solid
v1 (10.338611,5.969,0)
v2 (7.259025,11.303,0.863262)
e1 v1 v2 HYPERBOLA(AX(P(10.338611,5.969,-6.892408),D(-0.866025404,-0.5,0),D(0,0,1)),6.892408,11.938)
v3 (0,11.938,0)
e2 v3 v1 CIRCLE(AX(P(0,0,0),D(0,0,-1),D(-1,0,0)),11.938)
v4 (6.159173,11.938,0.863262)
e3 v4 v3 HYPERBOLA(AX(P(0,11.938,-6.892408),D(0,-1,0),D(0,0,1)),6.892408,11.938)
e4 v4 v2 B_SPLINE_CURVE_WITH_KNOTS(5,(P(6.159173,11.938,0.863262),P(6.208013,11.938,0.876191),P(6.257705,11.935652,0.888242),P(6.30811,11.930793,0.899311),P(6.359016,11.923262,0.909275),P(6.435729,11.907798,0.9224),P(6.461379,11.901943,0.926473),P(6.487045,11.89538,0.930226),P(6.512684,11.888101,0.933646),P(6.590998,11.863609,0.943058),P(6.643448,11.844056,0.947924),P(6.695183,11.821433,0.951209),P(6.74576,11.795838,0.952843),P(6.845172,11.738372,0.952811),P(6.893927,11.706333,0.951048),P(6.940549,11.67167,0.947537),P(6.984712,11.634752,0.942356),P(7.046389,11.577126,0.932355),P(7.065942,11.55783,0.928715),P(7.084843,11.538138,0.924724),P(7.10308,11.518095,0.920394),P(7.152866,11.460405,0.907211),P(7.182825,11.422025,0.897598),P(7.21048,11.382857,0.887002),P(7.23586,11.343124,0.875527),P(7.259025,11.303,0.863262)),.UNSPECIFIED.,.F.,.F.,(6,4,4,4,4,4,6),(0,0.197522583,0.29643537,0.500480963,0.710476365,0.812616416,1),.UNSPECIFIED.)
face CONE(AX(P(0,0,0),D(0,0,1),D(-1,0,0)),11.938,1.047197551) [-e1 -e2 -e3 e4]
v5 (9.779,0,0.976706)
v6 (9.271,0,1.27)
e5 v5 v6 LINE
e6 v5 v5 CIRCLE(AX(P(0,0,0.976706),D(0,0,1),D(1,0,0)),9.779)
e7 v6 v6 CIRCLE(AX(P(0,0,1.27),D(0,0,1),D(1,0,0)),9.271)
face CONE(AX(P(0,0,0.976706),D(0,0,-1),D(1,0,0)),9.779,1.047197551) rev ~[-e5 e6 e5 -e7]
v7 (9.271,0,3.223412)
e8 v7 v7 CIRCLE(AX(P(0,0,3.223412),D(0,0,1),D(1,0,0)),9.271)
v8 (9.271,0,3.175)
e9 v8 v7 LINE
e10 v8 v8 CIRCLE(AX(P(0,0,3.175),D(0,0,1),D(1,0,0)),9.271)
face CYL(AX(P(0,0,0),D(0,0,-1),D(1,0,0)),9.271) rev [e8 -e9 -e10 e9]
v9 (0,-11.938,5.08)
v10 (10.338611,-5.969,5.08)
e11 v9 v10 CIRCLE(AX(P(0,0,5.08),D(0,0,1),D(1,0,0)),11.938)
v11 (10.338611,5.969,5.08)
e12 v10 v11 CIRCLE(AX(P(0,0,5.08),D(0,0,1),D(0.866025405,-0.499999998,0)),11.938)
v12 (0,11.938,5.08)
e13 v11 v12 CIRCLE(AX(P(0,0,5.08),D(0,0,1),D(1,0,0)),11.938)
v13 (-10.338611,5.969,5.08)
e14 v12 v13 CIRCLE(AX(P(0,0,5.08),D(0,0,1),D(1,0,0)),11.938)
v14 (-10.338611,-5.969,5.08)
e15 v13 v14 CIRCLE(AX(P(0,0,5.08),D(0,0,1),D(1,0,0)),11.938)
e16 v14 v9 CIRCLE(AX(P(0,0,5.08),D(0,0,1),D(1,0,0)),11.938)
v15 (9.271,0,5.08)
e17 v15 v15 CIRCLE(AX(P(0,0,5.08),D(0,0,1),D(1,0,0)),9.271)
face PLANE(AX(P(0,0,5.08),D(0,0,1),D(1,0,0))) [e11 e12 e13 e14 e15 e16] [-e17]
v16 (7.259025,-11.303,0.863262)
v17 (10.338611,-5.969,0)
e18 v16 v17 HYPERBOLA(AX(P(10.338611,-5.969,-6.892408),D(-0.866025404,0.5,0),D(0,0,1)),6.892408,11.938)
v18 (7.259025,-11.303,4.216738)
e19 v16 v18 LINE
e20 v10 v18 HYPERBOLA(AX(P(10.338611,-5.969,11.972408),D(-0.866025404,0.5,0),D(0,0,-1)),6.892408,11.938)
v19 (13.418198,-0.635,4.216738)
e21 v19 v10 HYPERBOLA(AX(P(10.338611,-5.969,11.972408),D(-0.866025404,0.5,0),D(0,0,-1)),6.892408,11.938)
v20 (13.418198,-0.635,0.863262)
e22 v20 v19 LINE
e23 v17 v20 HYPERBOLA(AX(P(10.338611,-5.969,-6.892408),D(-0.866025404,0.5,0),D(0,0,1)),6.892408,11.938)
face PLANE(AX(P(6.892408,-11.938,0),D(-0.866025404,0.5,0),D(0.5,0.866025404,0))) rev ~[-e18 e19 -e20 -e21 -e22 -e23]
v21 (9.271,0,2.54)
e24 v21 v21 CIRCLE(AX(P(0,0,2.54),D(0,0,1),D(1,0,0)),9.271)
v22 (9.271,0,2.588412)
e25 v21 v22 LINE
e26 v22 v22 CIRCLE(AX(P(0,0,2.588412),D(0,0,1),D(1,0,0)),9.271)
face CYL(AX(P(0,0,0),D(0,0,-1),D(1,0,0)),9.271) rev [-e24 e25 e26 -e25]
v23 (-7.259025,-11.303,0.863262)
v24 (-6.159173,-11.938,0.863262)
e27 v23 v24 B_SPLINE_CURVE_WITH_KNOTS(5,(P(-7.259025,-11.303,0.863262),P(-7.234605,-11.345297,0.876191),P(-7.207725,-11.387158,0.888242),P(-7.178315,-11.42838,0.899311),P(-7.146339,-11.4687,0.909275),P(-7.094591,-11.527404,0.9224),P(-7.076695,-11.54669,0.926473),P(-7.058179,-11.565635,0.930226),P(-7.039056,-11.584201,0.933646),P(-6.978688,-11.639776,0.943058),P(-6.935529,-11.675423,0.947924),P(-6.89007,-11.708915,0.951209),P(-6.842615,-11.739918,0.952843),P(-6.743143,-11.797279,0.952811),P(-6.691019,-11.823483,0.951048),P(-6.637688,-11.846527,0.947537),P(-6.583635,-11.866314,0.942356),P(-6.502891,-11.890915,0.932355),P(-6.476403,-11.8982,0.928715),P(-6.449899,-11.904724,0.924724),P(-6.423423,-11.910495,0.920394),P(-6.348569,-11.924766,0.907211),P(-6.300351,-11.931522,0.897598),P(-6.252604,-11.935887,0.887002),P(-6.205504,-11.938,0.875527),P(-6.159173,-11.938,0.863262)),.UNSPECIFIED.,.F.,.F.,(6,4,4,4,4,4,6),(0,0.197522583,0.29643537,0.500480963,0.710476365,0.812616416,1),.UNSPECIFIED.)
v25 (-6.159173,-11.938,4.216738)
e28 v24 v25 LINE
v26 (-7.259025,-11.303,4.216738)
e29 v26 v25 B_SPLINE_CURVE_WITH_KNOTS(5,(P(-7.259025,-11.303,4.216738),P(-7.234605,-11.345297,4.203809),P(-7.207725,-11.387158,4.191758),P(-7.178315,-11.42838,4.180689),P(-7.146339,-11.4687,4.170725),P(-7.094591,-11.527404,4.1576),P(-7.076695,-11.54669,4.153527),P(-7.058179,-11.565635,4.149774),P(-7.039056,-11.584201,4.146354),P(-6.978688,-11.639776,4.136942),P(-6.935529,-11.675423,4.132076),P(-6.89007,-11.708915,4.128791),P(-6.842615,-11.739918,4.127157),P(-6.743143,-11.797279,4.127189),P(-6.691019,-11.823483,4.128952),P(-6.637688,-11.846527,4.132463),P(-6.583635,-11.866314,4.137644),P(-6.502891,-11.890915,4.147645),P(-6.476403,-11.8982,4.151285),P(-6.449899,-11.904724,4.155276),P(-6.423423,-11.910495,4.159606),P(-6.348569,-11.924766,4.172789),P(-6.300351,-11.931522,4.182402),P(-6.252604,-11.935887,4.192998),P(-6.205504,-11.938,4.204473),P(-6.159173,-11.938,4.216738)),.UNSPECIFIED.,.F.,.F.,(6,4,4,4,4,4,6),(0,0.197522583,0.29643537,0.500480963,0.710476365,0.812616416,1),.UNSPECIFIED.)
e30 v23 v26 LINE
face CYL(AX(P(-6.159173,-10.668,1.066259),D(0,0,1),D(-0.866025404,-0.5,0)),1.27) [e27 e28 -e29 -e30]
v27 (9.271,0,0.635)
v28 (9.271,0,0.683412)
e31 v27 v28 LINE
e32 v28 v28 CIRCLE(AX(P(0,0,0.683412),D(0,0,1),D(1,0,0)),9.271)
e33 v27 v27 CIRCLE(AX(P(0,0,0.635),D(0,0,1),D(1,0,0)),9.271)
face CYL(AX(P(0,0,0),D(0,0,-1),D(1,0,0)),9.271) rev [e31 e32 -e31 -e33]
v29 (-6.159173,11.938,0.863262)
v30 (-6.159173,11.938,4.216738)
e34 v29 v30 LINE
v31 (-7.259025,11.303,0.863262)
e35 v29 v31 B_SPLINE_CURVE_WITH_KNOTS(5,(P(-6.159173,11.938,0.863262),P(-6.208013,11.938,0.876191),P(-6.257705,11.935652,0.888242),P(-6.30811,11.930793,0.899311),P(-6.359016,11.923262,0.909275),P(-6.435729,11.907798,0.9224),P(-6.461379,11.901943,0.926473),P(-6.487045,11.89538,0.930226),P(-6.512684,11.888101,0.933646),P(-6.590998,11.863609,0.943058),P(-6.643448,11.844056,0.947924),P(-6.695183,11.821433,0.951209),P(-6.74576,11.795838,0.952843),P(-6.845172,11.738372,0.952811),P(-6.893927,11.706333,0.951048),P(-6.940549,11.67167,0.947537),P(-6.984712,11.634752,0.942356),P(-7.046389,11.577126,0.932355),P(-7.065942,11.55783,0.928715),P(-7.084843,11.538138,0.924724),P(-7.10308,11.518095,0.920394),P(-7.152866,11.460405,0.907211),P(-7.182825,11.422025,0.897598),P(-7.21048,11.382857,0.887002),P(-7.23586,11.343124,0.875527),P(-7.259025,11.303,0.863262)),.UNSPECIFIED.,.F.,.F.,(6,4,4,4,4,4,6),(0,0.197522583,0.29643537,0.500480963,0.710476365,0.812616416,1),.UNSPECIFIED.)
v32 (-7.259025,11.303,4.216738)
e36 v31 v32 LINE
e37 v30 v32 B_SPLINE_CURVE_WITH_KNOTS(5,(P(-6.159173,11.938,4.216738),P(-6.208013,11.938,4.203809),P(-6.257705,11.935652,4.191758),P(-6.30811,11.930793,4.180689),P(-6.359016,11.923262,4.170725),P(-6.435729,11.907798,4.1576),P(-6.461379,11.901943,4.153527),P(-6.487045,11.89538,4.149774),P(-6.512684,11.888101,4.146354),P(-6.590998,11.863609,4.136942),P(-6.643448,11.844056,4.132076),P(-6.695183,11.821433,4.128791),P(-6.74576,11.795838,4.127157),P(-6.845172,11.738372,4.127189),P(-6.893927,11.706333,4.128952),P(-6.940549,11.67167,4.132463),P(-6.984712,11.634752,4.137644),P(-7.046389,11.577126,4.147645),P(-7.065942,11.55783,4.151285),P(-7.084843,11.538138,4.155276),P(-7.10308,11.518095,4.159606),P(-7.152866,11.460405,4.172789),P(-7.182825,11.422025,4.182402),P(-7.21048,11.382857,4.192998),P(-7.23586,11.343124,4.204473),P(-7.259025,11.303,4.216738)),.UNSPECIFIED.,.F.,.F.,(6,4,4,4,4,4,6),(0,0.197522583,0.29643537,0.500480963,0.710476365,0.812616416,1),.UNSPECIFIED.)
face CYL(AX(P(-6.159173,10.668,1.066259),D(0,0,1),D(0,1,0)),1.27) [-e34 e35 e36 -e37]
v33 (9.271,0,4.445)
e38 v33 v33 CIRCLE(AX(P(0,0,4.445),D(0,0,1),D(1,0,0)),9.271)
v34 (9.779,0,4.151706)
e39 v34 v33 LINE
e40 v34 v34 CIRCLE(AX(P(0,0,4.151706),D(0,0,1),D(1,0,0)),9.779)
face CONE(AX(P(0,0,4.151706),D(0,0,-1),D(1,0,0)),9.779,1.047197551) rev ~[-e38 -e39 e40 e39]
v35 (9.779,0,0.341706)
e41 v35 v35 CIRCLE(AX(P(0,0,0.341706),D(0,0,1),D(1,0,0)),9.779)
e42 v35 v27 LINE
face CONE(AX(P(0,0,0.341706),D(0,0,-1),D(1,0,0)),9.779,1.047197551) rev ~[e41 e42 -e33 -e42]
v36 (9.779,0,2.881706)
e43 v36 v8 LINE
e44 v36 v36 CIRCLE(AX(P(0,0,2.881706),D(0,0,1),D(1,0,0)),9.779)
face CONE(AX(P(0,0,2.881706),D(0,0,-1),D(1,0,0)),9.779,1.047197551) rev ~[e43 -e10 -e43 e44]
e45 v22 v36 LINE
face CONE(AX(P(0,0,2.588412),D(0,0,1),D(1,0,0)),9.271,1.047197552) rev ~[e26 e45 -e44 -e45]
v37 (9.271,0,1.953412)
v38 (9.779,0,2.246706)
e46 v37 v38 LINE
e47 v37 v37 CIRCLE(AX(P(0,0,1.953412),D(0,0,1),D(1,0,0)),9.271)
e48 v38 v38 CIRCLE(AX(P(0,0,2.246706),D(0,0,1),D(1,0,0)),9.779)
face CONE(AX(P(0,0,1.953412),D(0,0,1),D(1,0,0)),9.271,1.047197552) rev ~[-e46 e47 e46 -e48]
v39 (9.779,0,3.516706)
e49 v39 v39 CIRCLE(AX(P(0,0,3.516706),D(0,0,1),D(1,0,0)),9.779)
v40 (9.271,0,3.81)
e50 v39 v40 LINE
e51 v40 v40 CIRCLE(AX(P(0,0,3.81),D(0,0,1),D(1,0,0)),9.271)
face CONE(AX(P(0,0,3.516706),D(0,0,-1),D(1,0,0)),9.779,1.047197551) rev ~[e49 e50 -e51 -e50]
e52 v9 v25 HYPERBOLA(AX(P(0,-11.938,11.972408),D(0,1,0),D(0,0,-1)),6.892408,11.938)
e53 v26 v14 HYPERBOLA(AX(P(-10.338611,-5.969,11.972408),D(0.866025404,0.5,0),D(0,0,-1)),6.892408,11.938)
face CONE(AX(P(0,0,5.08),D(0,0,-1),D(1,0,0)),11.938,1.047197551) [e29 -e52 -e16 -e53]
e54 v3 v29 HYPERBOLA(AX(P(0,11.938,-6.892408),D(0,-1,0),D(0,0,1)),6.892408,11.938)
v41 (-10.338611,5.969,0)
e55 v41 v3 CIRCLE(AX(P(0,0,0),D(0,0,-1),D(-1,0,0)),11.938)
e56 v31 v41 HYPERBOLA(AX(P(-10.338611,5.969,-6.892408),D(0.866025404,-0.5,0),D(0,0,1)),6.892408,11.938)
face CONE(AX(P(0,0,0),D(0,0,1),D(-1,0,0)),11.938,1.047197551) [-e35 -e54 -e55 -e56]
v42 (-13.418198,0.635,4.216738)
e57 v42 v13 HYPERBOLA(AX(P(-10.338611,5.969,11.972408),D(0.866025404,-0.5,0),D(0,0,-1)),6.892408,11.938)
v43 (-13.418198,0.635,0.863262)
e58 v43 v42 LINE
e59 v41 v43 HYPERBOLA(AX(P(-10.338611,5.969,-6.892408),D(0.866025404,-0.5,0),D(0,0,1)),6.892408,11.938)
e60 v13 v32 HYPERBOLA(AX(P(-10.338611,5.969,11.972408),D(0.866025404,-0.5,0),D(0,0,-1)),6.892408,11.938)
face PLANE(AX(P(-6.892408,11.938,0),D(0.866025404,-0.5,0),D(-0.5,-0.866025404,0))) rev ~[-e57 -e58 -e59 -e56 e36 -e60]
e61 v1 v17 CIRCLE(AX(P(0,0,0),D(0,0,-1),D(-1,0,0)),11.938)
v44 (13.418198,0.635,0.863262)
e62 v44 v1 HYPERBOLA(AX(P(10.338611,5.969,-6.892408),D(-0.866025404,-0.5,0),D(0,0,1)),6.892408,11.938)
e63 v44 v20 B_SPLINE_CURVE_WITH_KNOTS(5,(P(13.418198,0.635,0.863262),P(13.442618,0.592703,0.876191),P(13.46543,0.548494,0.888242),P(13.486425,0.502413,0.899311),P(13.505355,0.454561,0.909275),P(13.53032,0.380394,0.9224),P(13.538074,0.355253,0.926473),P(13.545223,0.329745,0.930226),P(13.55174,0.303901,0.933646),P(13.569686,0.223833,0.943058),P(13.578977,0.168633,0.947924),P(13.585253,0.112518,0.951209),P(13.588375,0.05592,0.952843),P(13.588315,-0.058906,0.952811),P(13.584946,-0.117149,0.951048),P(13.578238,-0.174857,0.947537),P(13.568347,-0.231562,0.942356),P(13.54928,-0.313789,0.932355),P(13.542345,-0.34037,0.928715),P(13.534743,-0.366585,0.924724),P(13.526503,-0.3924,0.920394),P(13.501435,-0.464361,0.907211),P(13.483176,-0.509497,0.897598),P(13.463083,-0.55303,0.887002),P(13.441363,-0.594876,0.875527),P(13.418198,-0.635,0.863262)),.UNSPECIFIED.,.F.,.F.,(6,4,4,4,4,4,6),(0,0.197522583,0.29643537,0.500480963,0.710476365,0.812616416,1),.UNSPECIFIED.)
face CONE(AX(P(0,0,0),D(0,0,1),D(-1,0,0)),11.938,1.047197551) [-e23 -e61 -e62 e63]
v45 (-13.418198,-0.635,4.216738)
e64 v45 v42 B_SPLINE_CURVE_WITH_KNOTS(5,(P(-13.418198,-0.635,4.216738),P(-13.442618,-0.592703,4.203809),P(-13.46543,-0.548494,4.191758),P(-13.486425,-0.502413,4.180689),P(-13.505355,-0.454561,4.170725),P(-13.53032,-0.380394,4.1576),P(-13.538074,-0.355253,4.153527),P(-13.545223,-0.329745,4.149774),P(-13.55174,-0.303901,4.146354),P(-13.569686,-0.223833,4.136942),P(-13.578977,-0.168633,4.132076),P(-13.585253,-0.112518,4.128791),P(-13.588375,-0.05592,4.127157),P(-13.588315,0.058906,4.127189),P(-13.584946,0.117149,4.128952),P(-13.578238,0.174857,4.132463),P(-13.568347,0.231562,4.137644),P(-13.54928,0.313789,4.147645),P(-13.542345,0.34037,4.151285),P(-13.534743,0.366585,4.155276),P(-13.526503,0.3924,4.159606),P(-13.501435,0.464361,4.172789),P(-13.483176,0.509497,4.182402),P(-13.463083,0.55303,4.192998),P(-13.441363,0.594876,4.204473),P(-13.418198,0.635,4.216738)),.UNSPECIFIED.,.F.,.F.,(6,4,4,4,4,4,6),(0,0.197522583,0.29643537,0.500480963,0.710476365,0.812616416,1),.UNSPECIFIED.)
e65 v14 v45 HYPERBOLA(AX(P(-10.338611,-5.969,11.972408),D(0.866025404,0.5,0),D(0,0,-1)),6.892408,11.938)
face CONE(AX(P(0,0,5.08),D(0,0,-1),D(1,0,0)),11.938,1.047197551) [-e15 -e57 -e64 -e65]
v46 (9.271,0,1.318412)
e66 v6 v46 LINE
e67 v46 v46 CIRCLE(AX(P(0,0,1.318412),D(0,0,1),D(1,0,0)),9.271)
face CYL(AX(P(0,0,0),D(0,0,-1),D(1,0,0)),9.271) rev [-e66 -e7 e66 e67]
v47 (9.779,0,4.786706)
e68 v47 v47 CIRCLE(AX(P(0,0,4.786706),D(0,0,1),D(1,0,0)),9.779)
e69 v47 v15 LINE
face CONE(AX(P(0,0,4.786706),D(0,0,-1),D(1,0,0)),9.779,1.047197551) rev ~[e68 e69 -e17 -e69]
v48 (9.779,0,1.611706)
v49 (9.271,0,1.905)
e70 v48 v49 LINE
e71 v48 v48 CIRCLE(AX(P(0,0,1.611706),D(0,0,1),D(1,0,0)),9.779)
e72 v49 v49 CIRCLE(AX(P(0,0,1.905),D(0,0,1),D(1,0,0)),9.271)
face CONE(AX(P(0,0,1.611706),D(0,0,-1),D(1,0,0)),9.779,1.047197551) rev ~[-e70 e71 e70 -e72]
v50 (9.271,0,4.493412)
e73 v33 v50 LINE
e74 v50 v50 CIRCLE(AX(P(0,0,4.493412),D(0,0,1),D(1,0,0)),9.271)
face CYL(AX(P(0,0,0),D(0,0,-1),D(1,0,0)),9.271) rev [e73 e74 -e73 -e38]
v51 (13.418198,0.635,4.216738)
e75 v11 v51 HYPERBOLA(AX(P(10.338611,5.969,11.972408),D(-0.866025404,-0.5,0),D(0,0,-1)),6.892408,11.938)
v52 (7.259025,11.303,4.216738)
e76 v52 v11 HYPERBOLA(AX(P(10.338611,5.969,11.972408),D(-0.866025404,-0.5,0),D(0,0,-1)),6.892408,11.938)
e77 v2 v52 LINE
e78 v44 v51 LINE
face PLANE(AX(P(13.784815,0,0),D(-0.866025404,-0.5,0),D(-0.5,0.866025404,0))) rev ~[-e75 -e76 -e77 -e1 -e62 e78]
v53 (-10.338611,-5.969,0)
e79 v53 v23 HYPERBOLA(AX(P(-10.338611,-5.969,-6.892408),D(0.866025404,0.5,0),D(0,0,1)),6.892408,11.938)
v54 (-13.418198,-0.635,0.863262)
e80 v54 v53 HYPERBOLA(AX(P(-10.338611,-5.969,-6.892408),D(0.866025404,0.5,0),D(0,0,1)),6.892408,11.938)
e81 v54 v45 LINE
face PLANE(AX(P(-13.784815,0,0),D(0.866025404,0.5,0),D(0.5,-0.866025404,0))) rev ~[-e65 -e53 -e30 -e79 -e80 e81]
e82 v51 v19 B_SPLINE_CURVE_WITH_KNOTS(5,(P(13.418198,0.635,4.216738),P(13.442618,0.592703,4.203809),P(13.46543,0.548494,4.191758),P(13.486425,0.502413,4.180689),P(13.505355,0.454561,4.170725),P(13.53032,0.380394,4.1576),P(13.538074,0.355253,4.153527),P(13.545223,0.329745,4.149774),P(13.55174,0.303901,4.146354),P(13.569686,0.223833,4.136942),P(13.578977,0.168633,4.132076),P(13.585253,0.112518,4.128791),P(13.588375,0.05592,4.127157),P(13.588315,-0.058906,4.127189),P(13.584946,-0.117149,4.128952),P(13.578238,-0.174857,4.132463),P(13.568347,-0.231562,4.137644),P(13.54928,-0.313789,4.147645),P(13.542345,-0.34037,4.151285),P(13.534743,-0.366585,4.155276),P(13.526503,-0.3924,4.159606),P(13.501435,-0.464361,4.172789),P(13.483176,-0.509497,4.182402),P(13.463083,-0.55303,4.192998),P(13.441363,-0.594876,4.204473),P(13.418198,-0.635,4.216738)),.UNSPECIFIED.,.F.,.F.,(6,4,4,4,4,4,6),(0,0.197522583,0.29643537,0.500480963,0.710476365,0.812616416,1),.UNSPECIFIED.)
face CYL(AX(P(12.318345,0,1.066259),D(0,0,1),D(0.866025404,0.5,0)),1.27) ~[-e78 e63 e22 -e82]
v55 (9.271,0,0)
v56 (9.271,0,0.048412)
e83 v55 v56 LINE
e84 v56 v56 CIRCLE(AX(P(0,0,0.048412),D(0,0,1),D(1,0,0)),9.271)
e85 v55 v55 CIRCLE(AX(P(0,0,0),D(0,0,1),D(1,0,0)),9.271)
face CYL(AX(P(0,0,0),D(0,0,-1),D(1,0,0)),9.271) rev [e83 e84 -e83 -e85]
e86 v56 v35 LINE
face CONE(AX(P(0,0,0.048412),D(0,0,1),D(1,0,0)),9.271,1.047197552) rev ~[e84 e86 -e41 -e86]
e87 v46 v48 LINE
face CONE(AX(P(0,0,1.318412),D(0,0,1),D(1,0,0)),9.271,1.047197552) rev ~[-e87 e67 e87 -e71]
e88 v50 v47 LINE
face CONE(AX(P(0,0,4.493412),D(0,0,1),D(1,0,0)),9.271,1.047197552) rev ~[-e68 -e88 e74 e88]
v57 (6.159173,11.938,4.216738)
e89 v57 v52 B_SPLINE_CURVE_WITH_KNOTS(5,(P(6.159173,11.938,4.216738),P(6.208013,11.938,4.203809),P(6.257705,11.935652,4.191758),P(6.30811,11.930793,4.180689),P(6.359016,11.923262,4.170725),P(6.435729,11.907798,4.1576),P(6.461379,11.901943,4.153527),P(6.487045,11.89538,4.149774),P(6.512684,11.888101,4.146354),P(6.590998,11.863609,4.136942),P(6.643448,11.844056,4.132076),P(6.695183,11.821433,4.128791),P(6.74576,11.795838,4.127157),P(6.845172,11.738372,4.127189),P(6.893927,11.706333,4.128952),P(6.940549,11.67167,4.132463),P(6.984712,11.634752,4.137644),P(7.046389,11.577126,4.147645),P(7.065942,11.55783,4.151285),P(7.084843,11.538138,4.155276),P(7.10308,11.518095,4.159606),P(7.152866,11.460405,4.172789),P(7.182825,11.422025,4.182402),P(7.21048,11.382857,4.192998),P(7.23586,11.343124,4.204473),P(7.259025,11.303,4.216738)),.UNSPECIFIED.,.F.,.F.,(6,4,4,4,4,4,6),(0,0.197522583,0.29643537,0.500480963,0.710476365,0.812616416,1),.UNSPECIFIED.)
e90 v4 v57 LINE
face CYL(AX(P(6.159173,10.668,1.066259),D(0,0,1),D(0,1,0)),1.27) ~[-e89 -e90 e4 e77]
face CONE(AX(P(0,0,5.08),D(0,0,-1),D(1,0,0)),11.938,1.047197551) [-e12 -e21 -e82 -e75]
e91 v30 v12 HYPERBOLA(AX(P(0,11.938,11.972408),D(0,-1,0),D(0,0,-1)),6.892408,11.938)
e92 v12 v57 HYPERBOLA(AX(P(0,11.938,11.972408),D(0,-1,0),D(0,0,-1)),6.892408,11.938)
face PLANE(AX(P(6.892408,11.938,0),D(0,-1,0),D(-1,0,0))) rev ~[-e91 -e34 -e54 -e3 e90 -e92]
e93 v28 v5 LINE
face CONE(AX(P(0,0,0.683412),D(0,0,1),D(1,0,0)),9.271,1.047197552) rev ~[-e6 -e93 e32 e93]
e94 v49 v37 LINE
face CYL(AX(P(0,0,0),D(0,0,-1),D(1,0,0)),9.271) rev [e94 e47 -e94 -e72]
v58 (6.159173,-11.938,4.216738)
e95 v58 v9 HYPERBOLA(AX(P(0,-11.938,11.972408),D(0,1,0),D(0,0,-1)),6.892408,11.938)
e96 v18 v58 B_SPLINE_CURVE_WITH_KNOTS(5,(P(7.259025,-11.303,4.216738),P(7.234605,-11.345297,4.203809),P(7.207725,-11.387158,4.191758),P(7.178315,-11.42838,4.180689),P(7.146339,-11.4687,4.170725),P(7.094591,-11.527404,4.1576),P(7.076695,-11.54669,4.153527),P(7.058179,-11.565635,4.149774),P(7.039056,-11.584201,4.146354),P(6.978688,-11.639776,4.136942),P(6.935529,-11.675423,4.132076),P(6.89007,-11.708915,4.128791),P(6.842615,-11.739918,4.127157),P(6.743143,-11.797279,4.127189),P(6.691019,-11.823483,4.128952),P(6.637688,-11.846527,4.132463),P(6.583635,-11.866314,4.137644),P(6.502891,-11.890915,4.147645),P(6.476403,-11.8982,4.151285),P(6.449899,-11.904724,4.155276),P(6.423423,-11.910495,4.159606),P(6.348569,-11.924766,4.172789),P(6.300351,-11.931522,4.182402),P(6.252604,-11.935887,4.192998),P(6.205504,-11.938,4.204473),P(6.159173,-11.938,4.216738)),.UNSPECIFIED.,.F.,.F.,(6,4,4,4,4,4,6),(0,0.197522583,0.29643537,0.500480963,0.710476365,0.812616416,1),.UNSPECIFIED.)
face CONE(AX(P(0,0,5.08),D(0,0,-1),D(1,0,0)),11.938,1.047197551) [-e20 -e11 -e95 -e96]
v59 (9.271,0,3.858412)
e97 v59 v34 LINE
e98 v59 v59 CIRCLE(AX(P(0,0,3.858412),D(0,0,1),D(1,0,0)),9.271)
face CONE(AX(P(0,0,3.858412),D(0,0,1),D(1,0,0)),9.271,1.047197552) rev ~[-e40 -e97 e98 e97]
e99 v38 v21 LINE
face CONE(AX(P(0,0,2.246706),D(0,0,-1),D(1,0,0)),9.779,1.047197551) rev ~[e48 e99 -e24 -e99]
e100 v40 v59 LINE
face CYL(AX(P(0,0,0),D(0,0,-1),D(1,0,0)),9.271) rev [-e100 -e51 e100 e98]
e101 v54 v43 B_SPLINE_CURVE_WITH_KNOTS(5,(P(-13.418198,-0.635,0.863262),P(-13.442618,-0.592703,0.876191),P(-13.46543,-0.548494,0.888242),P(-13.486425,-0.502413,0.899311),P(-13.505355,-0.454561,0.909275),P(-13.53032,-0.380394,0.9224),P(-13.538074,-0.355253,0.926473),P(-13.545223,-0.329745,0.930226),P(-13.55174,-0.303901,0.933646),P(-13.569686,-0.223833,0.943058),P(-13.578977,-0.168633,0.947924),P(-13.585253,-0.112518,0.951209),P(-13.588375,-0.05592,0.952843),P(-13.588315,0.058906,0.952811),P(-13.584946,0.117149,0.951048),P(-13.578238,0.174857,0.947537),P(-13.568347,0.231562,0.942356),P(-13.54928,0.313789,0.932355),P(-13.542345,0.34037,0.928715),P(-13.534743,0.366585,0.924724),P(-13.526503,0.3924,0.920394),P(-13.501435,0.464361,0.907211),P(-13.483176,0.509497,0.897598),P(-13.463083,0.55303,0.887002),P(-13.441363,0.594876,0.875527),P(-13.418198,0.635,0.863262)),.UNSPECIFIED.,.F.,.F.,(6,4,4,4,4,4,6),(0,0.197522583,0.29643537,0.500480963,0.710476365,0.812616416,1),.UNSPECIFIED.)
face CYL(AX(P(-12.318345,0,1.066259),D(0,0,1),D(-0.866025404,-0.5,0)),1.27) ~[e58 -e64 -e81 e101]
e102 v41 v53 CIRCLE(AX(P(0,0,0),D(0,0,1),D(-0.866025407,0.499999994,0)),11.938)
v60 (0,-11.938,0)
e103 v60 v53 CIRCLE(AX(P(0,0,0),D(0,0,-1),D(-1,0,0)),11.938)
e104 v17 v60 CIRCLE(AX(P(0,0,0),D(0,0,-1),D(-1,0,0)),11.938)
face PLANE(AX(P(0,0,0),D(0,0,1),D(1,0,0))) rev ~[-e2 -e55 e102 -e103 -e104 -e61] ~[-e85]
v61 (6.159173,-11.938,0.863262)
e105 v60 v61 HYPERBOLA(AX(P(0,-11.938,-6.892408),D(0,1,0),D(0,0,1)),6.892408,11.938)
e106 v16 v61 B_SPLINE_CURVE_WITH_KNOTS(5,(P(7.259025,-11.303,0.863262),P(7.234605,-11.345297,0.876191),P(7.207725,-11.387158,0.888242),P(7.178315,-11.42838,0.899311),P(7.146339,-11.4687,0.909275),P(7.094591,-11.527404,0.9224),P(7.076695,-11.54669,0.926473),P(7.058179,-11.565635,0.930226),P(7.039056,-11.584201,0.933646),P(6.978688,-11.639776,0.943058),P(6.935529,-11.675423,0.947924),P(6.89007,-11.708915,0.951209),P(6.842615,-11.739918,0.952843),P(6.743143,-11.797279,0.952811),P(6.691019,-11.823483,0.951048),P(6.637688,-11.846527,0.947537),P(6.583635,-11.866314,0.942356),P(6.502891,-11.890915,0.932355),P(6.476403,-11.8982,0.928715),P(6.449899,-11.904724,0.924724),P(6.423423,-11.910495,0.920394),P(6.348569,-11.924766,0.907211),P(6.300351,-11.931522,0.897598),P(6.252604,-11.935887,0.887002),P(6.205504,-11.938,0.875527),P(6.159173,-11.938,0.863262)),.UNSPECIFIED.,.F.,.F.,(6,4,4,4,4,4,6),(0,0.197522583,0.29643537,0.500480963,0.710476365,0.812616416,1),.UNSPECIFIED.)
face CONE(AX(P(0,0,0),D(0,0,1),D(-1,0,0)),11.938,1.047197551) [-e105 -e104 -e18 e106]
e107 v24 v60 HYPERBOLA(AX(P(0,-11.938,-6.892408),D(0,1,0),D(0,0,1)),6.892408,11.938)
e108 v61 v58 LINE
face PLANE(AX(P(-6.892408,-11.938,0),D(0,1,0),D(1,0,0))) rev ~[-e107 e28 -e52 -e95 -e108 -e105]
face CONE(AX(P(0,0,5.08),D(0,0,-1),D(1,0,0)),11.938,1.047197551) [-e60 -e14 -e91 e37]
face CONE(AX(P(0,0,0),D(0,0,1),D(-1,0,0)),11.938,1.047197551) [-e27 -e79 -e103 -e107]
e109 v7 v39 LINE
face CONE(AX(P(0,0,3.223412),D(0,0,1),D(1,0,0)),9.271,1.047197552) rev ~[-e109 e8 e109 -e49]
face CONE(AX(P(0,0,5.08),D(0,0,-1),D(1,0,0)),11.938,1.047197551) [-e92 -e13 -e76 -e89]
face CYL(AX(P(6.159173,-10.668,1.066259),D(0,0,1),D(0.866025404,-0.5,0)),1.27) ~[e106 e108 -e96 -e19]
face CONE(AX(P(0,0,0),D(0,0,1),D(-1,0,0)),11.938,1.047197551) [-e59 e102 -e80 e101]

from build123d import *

# Parameters (mm, degrees)
SKETCH1_R          = 9.271
EXTRUDE1_DEPTH     = 5.08
SKETCH2_OUTSIDE_W  = 57.996
SKETCH2_OUTSIDE_H  = 54.302
SKETCH2_OUTSIDE_R  = 11.938
CUT_EXTRUDE1_DEPTH = 6.08
CUT_EXTRUDE1_DRAFT = -60
SKETCH3_OUTSIDE_W  = 57.996
SKETCH3_OUTSIDE_H  = 54.302
SKETCH3_OUTSIDE_R  = 11.938
CUT_EXTRUDE2_DEPTH = 6.08
CUT_EXTRUDE2_DRAFT = -60
FILLET1_R          = 1.27
LPATTERN1_COUNT    = 8
LPATTERN1_PITCH    = 0.635


with BuildPart() as part:
    # Sketch1 → Extrude1 (new body)
    with BuildSketch(Plane.XY):
        Polygon((-13.784815027, 0), (-6.892407514, -11.938), (6.892407514, -11.938), (13.784815027, 0), (6.892407514, 11.938), (-6.892407514, 11.938), align=None)
        Circle(SKETCH1_R, mode=Mode.SUBTRACT)
    extrude(amount=EXTRUDE1_DEPTH)


with BuildPart() as cut_extrude1_tool:
    # Sketch2 outside → Cut-Extrude1 (with draft: the straight prism first)
    with BuildSketch(Plane.XY.offset(5.08)):
        Rectangle(SKETCH2_OUTSIDE_W, SKETCH2_OUTSIDE_H)
        Circle(SKETCH2_OUTSIDE_R, mode=Mode.SUBTRACT)
    extrude(amount=-CUT_EXTRUDE1_DEPTH)
    # Cut-Extrude1: the draft: its side faces are tilted about the plane it starts from
    cut_extrude1_sides = [cut_extrude1_tool.faces().sort_by_distance(p)[0] for p in [
        (0, -27.151, 2.04),
        (28.998, 0, 2.04),
        (0, 27.151, 2.04),
        (-28.998, 0, 2.04),
        (-11.938, 0, 2.04),
    ]]
    draft(cut_extrude1_sides, Plane.XY.offset(5.08), CUT_EXTRUDE1_DRAFT)


with BuildPart() as part_1:
    add(part.part)

    # Cut-Extrude1: cut by cut_extrude1_tool
    add(cut_extrude1_tool.part, mode=Mode.SUBTRACT)


with BuildPart() as cut_extrude2_tool:
    # Sketch3 outside → Cut-Extrude2 (with draft: the straight prism first)
    with BuildSketch(Plane(origin=(0, 0, 0), x_dir=(-1, 0, 0), z_dir=(0, 0, -1))):
        Rectangle(SKETCH3_OUTSIDE_W, SKETCH3_OUTSIDE_H)
        Circle(SKETCH3_OUTSIDE_R, mode=Mode.SUBTRACT)
    extrude(amount=-CUT_EXTRUDE2_DEPTH)
    # Cut-Extrude2: the draft: its side faces are tilted about the plane it starts from
    cut_extrude2_sides = [cut_extrude2_tool.faces().sort_by_distance(p)[0] for p in [
        (0, -27.151, 3.04),
        (-28.998, 0, 3.04),
        (0, 27.151, 3.04),
        (28.998, 0, 3.04),
        (11.938, 0, 3.04),
    ]]
    draft(cut_extrude2_sides, Plane(origin=(0, 0, 0), x_dir=(-1, 0, 0), z_dir=(0, 0, -1)), CUT_EXTRUDE2_DRAFT)


with BuildPart() as part_2:
    add(part_1.part)

    # Cut-Extrude2: cut by cut_extrude2_tool
    add(cut_extrude2_tool.part, mode=Mode.SUBTRACT)

    # Fillet1
    fillet1_edges = [part_2.edges().sort_by_distance(p)[0] for p in [
        (13.784815027, 0, 2.54),
        (6.892407514, -11.938, 2.54),
        (-6.892407514, -11.938, 2.54),
        (-13.784815027, 0, 2.54),
        (-6.892407514, 11.938, 2.54),
        (6.892407514, 11.938, 2.54),
    ]]
    fillet(fillet1_edges, radius=FILLET1_R)

    # Sketch4 → Cut-Revolve1 (revolve, cut)
    with BuildSketch(Plane(origin=(0, 0, 0), x_dir=(1, 0, 0), z_dir=(0, 1, 0)), mode=Mode.PRIVATE) as cut_revolve1_sk:
        Polygon((-9.271, -5.08), (-9.271, -4.493412127), (-9.779, -4.786706063), align=None)
    cut_revolve1 = revolve(cut_revolve1_sk.sketch.rotate(Axis((0, 0, 0), (0, 0, 1)), 180), axis=Axis((0, 0, 0), (0, 0, 1)), mode=Mode.SUBTRACT)  # turned: the seam where the file's is

    # LPattern1: Cut-Revolve1 ×8
    with Locations(*[(0, 0, -i * LPATTERN1_PITCH) for i in range(1, LPATTERN1_COUNT)]):
        add(cut_revolve1, mode=Mode.SUBTRACT)


solid = part_2.part
